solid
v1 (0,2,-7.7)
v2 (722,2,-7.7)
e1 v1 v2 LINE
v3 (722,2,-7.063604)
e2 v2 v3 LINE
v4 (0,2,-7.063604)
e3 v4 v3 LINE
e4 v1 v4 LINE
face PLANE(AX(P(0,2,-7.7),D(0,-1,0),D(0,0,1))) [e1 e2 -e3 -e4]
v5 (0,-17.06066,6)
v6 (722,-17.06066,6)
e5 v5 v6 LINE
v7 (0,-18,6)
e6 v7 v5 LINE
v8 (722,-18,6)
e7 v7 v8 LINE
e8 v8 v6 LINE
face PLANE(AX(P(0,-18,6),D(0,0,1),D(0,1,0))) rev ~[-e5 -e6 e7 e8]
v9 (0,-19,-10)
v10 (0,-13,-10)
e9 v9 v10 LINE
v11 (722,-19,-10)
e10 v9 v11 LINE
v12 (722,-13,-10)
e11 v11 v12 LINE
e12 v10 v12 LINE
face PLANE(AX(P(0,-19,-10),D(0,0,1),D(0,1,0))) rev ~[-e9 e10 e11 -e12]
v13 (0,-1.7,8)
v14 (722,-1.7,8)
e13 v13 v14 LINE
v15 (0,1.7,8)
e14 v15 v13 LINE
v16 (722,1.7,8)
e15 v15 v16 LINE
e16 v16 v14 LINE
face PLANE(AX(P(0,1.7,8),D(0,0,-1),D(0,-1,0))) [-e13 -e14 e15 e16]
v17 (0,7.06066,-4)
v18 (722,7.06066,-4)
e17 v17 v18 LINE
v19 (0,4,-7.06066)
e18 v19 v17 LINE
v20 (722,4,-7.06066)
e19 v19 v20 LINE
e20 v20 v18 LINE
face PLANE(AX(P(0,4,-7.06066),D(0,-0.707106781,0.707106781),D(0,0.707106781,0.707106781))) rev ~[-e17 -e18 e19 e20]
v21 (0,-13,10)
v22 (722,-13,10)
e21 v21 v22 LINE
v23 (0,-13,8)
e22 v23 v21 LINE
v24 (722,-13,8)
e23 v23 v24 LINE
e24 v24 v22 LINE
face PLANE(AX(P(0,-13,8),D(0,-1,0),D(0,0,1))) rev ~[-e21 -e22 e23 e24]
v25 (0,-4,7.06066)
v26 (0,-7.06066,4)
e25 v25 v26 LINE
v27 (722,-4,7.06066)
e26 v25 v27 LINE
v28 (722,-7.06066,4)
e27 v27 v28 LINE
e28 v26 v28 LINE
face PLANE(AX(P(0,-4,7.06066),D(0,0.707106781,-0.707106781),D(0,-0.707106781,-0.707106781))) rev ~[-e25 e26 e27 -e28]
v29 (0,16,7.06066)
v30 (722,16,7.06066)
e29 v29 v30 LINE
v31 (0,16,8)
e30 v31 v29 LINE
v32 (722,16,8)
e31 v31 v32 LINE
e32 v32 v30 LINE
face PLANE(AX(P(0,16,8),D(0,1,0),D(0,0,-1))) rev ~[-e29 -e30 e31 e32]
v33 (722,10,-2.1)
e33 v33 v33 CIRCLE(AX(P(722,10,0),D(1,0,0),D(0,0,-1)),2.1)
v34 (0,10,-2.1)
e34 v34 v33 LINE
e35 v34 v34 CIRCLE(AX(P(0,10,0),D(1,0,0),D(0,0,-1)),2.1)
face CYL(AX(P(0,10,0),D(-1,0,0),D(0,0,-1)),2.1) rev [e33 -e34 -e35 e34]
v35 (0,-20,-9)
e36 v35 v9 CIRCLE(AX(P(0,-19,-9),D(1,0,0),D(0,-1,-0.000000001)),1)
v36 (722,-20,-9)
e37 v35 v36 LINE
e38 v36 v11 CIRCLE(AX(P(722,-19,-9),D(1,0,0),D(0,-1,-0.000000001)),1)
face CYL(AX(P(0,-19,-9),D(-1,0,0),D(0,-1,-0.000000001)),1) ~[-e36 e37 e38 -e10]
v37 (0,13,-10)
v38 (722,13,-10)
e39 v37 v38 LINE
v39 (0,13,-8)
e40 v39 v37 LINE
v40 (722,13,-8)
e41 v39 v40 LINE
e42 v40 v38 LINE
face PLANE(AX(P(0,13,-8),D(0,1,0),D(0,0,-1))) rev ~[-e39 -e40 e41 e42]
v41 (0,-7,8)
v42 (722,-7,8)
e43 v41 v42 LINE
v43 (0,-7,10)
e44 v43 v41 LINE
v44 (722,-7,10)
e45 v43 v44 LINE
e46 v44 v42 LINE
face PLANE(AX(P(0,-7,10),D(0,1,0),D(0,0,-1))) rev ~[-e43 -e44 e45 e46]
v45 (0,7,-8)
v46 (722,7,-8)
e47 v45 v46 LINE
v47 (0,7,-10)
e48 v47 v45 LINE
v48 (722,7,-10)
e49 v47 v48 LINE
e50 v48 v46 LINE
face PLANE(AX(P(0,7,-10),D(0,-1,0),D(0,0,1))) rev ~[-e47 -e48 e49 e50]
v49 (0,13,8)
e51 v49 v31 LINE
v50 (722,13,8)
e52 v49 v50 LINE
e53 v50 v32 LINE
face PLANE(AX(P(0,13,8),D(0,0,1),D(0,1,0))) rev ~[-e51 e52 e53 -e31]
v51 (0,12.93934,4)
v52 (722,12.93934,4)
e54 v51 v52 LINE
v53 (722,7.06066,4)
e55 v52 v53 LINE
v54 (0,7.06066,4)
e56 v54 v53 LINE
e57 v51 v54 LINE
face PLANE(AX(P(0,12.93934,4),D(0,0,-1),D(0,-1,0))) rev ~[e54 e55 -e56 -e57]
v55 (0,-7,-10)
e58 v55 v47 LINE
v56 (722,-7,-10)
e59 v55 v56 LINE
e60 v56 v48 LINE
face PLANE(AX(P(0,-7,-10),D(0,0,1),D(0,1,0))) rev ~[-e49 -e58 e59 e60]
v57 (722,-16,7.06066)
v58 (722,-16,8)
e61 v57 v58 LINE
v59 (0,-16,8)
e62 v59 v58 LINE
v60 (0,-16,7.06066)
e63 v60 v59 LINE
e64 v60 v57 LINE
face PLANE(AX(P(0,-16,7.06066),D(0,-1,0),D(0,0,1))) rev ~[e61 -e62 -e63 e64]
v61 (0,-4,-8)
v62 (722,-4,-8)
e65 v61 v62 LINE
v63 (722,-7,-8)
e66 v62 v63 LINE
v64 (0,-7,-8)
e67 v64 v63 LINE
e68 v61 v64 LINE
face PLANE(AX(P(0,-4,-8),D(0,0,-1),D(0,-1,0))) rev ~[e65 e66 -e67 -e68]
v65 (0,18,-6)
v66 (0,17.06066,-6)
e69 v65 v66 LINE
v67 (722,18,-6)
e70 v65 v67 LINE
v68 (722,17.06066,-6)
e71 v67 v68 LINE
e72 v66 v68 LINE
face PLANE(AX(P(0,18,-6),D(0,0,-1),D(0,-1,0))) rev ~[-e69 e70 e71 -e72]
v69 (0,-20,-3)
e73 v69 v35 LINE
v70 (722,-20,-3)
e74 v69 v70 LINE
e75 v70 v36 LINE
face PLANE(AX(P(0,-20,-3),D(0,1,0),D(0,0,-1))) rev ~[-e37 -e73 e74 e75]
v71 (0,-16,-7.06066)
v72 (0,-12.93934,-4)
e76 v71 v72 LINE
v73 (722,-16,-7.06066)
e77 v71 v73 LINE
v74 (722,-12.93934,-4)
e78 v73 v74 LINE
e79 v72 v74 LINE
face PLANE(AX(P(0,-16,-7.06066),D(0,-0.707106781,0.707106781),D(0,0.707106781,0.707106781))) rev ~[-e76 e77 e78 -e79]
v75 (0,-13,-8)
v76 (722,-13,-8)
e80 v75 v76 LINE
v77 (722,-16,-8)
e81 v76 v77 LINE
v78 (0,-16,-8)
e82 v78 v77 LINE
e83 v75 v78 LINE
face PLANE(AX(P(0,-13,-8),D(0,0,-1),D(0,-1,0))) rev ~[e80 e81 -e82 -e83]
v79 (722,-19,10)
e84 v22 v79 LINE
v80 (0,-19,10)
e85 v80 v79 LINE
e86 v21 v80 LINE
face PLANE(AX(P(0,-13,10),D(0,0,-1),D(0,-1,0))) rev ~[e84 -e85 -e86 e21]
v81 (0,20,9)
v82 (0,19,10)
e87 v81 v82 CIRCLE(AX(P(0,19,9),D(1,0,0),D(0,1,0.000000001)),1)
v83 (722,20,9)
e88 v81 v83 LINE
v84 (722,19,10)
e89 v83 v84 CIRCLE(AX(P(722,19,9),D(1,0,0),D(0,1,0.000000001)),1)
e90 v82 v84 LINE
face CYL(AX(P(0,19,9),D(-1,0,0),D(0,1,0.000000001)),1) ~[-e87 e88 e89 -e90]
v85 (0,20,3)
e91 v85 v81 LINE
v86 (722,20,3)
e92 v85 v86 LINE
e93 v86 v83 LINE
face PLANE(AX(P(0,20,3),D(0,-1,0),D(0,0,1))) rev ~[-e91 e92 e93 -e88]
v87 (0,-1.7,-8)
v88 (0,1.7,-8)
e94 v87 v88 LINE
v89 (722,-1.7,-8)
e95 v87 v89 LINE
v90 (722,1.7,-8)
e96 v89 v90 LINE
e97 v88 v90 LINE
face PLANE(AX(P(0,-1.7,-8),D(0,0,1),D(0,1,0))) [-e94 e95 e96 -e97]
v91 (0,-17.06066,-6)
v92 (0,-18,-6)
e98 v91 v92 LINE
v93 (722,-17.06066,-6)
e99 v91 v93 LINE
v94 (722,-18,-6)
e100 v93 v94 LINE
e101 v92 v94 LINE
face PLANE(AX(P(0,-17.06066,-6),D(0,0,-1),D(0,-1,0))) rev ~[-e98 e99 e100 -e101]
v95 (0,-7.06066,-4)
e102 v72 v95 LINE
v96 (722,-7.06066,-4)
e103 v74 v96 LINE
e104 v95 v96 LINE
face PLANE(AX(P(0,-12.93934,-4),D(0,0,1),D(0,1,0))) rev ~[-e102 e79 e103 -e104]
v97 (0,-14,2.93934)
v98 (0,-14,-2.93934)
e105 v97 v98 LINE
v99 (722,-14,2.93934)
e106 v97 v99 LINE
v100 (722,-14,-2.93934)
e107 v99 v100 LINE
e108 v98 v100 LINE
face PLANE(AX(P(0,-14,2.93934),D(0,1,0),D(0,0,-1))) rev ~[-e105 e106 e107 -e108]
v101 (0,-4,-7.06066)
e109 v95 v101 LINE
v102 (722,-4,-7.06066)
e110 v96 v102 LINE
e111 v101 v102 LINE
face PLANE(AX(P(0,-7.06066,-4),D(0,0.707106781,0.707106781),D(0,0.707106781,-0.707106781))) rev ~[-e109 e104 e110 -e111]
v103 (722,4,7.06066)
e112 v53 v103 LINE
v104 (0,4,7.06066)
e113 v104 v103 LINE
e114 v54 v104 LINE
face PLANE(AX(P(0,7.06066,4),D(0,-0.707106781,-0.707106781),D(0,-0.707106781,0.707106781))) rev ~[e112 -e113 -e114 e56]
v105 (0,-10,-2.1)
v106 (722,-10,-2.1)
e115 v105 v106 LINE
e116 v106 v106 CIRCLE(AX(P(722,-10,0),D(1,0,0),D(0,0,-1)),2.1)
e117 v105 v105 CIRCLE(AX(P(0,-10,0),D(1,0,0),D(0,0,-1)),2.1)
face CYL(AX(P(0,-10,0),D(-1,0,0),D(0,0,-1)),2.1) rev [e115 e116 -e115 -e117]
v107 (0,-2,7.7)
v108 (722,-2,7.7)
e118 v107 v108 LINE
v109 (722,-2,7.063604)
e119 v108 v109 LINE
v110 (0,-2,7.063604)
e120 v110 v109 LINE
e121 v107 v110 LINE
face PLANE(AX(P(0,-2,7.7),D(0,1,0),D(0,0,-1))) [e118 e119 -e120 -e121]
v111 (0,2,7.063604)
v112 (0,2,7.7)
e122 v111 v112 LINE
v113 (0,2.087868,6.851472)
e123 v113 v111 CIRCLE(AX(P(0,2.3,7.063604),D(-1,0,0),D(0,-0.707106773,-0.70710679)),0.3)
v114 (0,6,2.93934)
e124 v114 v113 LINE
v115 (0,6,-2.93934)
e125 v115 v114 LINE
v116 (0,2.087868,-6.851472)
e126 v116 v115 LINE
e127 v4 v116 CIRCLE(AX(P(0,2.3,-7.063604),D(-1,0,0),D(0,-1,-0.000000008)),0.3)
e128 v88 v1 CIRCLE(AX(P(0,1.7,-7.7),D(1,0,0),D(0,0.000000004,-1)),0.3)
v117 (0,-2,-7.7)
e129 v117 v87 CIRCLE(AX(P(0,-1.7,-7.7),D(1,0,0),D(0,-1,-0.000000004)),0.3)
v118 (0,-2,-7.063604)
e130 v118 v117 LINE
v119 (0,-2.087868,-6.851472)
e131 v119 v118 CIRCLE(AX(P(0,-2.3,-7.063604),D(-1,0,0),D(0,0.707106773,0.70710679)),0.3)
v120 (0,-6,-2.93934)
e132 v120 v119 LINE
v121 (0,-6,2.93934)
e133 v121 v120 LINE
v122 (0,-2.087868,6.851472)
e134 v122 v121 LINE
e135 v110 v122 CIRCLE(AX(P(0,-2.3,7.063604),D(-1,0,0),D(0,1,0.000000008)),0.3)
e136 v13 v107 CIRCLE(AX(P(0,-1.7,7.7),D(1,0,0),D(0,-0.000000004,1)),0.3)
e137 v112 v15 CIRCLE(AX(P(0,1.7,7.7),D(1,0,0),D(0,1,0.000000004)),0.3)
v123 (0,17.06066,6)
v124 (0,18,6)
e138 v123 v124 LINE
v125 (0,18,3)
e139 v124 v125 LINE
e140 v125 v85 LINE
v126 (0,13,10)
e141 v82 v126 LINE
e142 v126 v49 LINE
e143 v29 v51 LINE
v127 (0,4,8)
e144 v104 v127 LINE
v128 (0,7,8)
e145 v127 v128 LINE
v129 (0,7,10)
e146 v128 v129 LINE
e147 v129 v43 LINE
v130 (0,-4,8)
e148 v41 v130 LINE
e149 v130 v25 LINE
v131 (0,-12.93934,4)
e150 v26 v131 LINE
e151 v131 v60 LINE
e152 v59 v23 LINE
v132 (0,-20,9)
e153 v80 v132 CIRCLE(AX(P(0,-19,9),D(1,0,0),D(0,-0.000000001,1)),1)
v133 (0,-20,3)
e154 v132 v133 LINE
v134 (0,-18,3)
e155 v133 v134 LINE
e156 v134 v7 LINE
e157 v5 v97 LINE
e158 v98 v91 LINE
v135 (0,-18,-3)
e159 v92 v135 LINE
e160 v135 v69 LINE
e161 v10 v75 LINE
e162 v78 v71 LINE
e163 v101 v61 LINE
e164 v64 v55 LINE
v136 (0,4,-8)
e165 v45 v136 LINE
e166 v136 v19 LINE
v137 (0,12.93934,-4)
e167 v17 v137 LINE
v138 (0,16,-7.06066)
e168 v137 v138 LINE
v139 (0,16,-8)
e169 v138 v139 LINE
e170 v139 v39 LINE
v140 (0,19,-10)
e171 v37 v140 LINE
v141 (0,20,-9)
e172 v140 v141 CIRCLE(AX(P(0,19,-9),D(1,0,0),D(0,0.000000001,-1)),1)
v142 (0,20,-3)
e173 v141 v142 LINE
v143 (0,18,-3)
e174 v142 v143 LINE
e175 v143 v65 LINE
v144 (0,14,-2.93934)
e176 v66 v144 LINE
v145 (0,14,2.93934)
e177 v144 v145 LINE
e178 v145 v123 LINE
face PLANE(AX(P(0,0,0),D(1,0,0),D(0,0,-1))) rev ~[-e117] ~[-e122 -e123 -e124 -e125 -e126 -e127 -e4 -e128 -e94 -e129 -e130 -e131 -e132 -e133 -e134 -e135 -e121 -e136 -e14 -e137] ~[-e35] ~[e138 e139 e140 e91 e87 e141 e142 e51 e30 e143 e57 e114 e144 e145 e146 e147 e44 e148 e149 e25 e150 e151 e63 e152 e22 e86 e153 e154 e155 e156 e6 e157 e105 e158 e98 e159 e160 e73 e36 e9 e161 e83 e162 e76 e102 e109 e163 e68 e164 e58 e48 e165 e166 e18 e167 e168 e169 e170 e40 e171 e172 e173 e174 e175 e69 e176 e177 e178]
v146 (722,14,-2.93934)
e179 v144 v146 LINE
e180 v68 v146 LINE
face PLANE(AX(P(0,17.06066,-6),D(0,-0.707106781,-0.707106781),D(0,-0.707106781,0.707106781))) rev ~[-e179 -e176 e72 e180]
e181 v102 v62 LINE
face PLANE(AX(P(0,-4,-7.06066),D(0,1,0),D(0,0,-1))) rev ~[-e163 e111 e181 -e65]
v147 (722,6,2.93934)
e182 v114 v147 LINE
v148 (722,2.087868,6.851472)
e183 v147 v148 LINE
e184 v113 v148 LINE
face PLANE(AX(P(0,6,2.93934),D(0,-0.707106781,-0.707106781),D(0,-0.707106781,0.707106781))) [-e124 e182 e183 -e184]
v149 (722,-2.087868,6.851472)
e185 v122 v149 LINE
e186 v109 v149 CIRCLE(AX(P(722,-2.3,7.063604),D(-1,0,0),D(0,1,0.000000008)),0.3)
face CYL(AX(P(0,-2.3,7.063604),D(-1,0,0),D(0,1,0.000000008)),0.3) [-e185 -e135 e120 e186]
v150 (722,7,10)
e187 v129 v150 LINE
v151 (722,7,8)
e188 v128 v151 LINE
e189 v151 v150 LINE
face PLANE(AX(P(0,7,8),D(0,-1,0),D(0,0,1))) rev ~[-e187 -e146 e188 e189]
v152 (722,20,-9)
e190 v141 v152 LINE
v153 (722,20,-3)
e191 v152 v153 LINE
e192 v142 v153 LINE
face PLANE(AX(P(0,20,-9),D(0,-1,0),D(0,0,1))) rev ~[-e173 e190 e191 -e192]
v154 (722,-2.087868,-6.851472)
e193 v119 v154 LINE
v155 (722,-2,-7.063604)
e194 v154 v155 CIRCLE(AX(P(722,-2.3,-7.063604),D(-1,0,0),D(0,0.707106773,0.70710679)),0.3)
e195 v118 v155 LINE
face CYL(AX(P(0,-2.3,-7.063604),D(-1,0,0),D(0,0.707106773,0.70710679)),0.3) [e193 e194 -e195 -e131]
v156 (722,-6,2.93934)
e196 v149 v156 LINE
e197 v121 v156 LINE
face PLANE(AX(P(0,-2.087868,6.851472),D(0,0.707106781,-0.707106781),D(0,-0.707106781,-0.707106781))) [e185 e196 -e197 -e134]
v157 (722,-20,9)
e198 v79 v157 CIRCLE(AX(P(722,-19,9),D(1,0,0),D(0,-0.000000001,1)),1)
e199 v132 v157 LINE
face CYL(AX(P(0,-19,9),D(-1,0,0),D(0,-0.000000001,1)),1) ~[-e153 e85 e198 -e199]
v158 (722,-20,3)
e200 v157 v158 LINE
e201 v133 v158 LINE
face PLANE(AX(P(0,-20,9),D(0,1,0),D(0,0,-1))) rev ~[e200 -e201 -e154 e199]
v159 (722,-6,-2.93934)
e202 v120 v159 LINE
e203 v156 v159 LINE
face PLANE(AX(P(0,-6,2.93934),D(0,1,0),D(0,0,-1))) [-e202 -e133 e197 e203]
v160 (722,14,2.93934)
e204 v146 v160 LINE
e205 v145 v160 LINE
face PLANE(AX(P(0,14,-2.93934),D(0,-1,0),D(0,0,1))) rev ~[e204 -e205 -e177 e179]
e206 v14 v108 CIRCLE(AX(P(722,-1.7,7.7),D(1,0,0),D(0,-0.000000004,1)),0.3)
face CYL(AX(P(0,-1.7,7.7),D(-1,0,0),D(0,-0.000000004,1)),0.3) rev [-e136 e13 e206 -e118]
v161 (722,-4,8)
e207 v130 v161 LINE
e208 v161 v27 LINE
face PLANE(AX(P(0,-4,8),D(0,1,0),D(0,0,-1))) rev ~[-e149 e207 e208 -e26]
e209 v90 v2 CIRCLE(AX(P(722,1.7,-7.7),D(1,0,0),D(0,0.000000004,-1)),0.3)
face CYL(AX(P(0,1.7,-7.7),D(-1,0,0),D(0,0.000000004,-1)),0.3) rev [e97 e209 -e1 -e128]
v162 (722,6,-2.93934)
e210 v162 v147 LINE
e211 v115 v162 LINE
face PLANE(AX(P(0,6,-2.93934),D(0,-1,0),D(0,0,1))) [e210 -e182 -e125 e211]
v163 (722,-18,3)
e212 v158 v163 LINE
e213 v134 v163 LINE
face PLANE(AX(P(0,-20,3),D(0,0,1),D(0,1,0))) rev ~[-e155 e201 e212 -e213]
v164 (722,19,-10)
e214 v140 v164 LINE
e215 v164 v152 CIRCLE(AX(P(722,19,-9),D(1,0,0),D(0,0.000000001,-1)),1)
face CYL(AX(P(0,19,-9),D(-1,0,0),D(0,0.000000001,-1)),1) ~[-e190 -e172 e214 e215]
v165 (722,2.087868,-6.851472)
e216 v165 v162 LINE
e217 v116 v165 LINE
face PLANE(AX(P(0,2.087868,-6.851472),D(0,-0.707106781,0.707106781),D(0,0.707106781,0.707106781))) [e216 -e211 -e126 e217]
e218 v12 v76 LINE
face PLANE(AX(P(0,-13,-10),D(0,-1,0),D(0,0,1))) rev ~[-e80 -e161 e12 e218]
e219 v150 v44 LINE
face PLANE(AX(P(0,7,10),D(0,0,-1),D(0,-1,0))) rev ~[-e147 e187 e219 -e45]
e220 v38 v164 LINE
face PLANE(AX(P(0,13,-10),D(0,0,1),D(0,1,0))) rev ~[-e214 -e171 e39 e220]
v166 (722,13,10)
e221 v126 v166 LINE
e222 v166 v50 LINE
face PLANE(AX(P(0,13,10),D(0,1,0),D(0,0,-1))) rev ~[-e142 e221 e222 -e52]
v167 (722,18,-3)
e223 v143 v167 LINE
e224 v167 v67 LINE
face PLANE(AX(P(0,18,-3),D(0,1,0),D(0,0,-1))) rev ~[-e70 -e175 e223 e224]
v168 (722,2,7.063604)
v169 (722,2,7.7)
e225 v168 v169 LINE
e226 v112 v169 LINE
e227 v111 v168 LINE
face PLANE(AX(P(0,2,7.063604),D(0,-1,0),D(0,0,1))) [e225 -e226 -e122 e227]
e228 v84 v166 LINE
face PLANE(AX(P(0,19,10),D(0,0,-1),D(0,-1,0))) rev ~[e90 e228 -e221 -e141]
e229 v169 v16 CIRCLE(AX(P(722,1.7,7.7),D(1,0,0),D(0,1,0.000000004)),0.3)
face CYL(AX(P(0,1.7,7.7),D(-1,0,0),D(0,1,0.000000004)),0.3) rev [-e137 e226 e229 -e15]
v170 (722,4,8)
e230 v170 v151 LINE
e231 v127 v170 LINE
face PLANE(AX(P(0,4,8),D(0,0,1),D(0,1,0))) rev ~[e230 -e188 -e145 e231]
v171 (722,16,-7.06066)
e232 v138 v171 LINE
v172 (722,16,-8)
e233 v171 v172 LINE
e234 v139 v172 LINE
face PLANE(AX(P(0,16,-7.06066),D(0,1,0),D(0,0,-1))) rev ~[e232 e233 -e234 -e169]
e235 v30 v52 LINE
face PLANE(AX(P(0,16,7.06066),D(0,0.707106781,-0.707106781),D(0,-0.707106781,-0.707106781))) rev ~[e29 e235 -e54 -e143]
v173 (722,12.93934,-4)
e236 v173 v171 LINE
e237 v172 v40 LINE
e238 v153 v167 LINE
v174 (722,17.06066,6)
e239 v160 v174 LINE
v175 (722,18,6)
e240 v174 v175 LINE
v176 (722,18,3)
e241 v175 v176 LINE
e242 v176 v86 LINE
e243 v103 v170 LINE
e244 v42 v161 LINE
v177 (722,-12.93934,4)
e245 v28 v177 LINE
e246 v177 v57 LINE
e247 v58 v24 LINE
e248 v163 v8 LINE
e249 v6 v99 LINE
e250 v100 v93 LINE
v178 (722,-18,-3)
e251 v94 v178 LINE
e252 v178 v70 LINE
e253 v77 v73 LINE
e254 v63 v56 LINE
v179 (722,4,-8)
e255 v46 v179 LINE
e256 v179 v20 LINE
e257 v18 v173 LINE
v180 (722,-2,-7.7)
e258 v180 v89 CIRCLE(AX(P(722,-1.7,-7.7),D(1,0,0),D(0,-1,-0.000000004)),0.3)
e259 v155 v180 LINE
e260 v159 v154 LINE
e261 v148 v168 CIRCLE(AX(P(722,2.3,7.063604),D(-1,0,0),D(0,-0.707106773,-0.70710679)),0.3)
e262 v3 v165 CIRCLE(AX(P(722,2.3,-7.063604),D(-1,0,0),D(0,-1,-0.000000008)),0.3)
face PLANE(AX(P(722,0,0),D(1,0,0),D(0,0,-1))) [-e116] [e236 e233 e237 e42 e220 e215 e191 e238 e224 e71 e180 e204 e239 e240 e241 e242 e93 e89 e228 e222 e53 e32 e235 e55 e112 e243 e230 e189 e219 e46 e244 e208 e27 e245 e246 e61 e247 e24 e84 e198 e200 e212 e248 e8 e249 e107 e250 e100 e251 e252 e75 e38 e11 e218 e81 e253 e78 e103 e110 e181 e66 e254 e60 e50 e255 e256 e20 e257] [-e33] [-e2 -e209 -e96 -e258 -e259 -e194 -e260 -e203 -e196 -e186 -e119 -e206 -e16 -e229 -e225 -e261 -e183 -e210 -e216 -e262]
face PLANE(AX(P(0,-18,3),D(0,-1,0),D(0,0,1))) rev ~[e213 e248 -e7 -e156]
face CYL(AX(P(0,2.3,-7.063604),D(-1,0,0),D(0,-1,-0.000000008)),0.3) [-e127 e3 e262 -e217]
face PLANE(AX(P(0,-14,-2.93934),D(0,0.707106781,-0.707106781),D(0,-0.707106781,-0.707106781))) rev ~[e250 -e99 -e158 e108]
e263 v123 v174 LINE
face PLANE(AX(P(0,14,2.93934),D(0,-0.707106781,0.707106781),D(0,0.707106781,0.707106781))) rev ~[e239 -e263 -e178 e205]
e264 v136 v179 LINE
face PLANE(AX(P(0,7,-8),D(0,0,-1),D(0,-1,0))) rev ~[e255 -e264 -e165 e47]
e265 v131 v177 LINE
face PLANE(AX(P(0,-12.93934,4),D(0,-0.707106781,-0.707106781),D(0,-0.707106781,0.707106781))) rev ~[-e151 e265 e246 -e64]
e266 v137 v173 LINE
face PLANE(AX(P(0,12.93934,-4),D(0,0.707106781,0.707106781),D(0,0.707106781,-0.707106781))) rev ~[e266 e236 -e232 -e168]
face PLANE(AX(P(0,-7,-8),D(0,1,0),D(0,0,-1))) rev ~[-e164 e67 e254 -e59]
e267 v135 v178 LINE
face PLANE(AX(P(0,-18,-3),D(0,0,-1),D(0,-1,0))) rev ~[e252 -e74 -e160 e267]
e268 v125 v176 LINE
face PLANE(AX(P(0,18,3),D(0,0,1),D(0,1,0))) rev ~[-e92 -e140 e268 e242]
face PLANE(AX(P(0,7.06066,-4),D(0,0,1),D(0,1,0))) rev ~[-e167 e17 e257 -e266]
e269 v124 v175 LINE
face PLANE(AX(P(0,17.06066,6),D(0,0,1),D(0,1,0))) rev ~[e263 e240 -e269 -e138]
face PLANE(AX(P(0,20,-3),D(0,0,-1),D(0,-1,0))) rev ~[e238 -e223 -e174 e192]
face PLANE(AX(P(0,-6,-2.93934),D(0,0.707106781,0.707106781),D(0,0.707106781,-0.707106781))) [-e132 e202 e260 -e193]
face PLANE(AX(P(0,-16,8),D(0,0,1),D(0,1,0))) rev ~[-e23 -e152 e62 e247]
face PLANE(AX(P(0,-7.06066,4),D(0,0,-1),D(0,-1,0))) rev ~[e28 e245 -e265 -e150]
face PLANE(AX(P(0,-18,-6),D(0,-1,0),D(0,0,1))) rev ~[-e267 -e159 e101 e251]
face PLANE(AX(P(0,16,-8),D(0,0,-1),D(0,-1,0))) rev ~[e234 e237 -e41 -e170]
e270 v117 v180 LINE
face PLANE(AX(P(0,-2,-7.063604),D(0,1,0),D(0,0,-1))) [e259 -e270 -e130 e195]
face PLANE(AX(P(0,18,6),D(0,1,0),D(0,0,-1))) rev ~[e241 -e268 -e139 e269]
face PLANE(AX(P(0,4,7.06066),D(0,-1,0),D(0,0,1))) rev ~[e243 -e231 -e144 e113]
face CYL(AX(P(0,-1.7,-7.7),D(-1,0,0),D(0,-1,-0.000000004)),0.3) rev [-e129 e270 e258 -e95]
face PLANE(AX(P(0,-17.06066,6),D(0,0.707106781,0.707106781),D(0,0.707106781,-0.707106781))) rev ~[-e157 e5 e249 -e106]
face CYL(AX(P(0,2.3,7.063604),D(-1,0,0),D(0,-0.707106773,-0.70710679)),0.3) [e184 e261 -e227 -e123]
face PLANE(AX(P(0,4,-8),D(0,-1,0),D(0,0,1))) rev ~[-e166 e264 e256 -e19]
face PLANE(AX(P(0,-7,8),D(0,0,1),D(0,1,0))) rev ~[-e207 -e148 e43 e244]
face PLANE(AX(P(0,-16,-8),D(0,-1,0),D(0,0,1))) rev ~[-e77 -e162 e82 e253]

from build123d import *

# Parameters (mm, degrees)
SKETCH1_R           = 2.1
BOSS_EXTRUDE1_DEPTH = 722


with BuildPart() as part:
    # Sketch1 → Boss-Extrude1 (new body)
    with BuildSketch(Plane(origin=(0, 0, 0), x_dir=(0, 0, -1), z_dir=(1, 0, 0))):
        with BuildLine():
            Line((-10, -13), (-10, -19))
            ThreePointArc((-10, -19), (-9.707106781, -19.707106781), (-9, -20))
            Line((-9, -20), (-3, -20))
            Line((-3, -20), (-3, -18))
            Line((-3, -18), (-6, -18))
            Line((-6, -18), (-6, -17.060660172))
            Line((-6, -17.060660172), (-2.939339828, -14))
            Line((-2.939339828, -14), (2.939339828, -14))
            Line((2.939339828, -14), (6, -17.060660172))
            Line((6, -17.060660172), (6, -18))
            Line((6, -18), (3, -18))
            Line((3, -18), (3, -20))
            Line((3, -20), (9, -20))
            ThreePointArc((9, -20), (9.707106781, -19.707106781), (10, -19))
            Line((10, -19), (10, -13))
            Line((10, -13), (8, -13))
            Line((8, -13), (8, -16))
            Line((8, -16), (7.060660172, -16))
            Line((7.060660172, -16), (4, -12.939339828))
            Line((4, -12.939339828), (4, -7.060660172))
            Line((4, -7.060660172), (7.060660172, -4))
            Line((7.060660172, -4), (8, -4))
            Line((8, -4), (8, -7))
            Line((8, -7), (10, -7))
            Line((10, -7), (10, 7))
            Line((10, 7), (8, 7))
            Line((8, 7), (8, 4))
            Line((8, 4), (7.060660172, 4))
            Line((7.060660172, 4), (4, 7.060660172))
            Line((4, 7.060660172), (4, 12.939339828))
            Line((4, 12.939339828), (7.060660172, 16))
            Line((7.060660172, 16), (8, 16))
            Line((8, 16), (8, 13))
            Line((8, 13), (10, 13))
            Line((10, 13), (10, 19))
            ThreePointArc((10, 19), (9.707106781, 19.707106781), (9, 20))
            Line((9, 20), (3, 20))
            Line((3, 20), (3, 18))
            Line((3, 18), (6, 18))
            Line((6, 18), (6, 17.060660172))
            Line((6, 17.060660172), (2.939339828, 14))
            Line((2.939339828, 14), (-2.939339828, 14))
            Line((-2.939339828, 14), (-6, 17.060660172))
            Line((-6, 17.060660172), (-6, 18))
            Line((-6, 18), (-3, 18))
            Line((-3, 18), (-3, 20))
            Line((-3, 20), (-9, 20))
            ThreePointArc((-9, 20), (-9.707106781, 19.707106781), (-10, 19))
            Line((-10, 19), (-10, 13))
            Line((-10, 13), (-8, 13))
            Line((-8, 13), (-8, 16))
            Line((-8, 16), (-7.060660172, 16))
            Line((-7.060660172, 16), (-4, 12.939339828))
            Line((-4, 12.939339828), (-4, 7.060660172))
            Line((-4, 7.060660172), (-7.060660172, 4))
            Line((-7.060660172, 4), (-8, 4))
            Line((-8, 4), (-8, 7))
            Line((-8, 7), (-10, 7))
            Line((-10, 7), (-10, -7))
            Line((-10, -7), (-8, -7))
            Line((-8, -7), (-8, -4))
            Line((-8, -4), (-7.060660172, -4))
            Line((-7.060660172, -4), (-4, -7.060660172))
            Line((-4, -7.060660172), (-4, -12.939339828))
            Line((-4, -12.939339828), (-7.060660172, -16))
            Line((-7.060660172, -16), (-8, -16))
            Line((-8, -16), (-8, -13))
            Line((-8, -13), (-10, -13))
        make_face()
        with Locations((0, 10)):
            Circle(SKETCH1_R, mode=Mode.SUBTRACT)
        with Locations((0, -10)):
            Circle(SKETCH1_R, mode=Mode.SUBTRACT)
        with BuildLine():
            Line((-8, 1.7), (-8, -1.7))
            ThreePointArc((-8, -1.7), (-7.912132034, -1.912132034), (-7.7, -2))
            Line((-7.7, -2), (-7.063603897, -2))
            ThreePointArc((-7.063603897, -2), (-6.948798867, -2.02283614), (-6.851471863, -2.087867966))
            Line((-6.851471863, -2.087867966), (-2.939339828, -6))
            Line((-2.939339828, -6), (2.939339828, -6))
            Line((2.939339828, -6), (6.851471863, -2.087867966))
            ThreePointArc((6.851471863, -2.087867966), (6.948798867, -2.02283614), (7.063603897, -2))
            Line((7.063603897, -2), (7.7, -2))
            ThreePointArc((7.7, -2), (7.912132034, -1.912132034), (8, -1.7))
            Line((8, -1.7), (8, 1.7))
            ThreePointArc((8, 1.7), (7.912132034, 1.912132034), (7.7, 2))
            Line((7.7, 2), (7.063603897, 2))
            ThreePointArc((7.063603897, 2), (6.948798867, 2.02283614), (6.851471863, 2.087867966))
            Line((6.851471863, 2.087867966), (2.939339828, 6))
            Line((2.939339828, 6), (-2.939339828, 6))
            Line((-2.939339828, 6), (-6.851471863, 2.087867966))
            ThreePointArc((-6.851471863, 2.087867966), (-6.948798867, 2.02283614), (-7.063603897, 2))
            Line((-7.063603897, 2), (-7.7, 2))
            ThreePointArc((-7.7, 2), (-7.912132034, 1.912132034), (-8, 1.7))
        make_face(mode=Mode.SUBTRACT)
    extrude(amount=BOSS_EXTRUDE1_DEPTH)


solid = part.part
